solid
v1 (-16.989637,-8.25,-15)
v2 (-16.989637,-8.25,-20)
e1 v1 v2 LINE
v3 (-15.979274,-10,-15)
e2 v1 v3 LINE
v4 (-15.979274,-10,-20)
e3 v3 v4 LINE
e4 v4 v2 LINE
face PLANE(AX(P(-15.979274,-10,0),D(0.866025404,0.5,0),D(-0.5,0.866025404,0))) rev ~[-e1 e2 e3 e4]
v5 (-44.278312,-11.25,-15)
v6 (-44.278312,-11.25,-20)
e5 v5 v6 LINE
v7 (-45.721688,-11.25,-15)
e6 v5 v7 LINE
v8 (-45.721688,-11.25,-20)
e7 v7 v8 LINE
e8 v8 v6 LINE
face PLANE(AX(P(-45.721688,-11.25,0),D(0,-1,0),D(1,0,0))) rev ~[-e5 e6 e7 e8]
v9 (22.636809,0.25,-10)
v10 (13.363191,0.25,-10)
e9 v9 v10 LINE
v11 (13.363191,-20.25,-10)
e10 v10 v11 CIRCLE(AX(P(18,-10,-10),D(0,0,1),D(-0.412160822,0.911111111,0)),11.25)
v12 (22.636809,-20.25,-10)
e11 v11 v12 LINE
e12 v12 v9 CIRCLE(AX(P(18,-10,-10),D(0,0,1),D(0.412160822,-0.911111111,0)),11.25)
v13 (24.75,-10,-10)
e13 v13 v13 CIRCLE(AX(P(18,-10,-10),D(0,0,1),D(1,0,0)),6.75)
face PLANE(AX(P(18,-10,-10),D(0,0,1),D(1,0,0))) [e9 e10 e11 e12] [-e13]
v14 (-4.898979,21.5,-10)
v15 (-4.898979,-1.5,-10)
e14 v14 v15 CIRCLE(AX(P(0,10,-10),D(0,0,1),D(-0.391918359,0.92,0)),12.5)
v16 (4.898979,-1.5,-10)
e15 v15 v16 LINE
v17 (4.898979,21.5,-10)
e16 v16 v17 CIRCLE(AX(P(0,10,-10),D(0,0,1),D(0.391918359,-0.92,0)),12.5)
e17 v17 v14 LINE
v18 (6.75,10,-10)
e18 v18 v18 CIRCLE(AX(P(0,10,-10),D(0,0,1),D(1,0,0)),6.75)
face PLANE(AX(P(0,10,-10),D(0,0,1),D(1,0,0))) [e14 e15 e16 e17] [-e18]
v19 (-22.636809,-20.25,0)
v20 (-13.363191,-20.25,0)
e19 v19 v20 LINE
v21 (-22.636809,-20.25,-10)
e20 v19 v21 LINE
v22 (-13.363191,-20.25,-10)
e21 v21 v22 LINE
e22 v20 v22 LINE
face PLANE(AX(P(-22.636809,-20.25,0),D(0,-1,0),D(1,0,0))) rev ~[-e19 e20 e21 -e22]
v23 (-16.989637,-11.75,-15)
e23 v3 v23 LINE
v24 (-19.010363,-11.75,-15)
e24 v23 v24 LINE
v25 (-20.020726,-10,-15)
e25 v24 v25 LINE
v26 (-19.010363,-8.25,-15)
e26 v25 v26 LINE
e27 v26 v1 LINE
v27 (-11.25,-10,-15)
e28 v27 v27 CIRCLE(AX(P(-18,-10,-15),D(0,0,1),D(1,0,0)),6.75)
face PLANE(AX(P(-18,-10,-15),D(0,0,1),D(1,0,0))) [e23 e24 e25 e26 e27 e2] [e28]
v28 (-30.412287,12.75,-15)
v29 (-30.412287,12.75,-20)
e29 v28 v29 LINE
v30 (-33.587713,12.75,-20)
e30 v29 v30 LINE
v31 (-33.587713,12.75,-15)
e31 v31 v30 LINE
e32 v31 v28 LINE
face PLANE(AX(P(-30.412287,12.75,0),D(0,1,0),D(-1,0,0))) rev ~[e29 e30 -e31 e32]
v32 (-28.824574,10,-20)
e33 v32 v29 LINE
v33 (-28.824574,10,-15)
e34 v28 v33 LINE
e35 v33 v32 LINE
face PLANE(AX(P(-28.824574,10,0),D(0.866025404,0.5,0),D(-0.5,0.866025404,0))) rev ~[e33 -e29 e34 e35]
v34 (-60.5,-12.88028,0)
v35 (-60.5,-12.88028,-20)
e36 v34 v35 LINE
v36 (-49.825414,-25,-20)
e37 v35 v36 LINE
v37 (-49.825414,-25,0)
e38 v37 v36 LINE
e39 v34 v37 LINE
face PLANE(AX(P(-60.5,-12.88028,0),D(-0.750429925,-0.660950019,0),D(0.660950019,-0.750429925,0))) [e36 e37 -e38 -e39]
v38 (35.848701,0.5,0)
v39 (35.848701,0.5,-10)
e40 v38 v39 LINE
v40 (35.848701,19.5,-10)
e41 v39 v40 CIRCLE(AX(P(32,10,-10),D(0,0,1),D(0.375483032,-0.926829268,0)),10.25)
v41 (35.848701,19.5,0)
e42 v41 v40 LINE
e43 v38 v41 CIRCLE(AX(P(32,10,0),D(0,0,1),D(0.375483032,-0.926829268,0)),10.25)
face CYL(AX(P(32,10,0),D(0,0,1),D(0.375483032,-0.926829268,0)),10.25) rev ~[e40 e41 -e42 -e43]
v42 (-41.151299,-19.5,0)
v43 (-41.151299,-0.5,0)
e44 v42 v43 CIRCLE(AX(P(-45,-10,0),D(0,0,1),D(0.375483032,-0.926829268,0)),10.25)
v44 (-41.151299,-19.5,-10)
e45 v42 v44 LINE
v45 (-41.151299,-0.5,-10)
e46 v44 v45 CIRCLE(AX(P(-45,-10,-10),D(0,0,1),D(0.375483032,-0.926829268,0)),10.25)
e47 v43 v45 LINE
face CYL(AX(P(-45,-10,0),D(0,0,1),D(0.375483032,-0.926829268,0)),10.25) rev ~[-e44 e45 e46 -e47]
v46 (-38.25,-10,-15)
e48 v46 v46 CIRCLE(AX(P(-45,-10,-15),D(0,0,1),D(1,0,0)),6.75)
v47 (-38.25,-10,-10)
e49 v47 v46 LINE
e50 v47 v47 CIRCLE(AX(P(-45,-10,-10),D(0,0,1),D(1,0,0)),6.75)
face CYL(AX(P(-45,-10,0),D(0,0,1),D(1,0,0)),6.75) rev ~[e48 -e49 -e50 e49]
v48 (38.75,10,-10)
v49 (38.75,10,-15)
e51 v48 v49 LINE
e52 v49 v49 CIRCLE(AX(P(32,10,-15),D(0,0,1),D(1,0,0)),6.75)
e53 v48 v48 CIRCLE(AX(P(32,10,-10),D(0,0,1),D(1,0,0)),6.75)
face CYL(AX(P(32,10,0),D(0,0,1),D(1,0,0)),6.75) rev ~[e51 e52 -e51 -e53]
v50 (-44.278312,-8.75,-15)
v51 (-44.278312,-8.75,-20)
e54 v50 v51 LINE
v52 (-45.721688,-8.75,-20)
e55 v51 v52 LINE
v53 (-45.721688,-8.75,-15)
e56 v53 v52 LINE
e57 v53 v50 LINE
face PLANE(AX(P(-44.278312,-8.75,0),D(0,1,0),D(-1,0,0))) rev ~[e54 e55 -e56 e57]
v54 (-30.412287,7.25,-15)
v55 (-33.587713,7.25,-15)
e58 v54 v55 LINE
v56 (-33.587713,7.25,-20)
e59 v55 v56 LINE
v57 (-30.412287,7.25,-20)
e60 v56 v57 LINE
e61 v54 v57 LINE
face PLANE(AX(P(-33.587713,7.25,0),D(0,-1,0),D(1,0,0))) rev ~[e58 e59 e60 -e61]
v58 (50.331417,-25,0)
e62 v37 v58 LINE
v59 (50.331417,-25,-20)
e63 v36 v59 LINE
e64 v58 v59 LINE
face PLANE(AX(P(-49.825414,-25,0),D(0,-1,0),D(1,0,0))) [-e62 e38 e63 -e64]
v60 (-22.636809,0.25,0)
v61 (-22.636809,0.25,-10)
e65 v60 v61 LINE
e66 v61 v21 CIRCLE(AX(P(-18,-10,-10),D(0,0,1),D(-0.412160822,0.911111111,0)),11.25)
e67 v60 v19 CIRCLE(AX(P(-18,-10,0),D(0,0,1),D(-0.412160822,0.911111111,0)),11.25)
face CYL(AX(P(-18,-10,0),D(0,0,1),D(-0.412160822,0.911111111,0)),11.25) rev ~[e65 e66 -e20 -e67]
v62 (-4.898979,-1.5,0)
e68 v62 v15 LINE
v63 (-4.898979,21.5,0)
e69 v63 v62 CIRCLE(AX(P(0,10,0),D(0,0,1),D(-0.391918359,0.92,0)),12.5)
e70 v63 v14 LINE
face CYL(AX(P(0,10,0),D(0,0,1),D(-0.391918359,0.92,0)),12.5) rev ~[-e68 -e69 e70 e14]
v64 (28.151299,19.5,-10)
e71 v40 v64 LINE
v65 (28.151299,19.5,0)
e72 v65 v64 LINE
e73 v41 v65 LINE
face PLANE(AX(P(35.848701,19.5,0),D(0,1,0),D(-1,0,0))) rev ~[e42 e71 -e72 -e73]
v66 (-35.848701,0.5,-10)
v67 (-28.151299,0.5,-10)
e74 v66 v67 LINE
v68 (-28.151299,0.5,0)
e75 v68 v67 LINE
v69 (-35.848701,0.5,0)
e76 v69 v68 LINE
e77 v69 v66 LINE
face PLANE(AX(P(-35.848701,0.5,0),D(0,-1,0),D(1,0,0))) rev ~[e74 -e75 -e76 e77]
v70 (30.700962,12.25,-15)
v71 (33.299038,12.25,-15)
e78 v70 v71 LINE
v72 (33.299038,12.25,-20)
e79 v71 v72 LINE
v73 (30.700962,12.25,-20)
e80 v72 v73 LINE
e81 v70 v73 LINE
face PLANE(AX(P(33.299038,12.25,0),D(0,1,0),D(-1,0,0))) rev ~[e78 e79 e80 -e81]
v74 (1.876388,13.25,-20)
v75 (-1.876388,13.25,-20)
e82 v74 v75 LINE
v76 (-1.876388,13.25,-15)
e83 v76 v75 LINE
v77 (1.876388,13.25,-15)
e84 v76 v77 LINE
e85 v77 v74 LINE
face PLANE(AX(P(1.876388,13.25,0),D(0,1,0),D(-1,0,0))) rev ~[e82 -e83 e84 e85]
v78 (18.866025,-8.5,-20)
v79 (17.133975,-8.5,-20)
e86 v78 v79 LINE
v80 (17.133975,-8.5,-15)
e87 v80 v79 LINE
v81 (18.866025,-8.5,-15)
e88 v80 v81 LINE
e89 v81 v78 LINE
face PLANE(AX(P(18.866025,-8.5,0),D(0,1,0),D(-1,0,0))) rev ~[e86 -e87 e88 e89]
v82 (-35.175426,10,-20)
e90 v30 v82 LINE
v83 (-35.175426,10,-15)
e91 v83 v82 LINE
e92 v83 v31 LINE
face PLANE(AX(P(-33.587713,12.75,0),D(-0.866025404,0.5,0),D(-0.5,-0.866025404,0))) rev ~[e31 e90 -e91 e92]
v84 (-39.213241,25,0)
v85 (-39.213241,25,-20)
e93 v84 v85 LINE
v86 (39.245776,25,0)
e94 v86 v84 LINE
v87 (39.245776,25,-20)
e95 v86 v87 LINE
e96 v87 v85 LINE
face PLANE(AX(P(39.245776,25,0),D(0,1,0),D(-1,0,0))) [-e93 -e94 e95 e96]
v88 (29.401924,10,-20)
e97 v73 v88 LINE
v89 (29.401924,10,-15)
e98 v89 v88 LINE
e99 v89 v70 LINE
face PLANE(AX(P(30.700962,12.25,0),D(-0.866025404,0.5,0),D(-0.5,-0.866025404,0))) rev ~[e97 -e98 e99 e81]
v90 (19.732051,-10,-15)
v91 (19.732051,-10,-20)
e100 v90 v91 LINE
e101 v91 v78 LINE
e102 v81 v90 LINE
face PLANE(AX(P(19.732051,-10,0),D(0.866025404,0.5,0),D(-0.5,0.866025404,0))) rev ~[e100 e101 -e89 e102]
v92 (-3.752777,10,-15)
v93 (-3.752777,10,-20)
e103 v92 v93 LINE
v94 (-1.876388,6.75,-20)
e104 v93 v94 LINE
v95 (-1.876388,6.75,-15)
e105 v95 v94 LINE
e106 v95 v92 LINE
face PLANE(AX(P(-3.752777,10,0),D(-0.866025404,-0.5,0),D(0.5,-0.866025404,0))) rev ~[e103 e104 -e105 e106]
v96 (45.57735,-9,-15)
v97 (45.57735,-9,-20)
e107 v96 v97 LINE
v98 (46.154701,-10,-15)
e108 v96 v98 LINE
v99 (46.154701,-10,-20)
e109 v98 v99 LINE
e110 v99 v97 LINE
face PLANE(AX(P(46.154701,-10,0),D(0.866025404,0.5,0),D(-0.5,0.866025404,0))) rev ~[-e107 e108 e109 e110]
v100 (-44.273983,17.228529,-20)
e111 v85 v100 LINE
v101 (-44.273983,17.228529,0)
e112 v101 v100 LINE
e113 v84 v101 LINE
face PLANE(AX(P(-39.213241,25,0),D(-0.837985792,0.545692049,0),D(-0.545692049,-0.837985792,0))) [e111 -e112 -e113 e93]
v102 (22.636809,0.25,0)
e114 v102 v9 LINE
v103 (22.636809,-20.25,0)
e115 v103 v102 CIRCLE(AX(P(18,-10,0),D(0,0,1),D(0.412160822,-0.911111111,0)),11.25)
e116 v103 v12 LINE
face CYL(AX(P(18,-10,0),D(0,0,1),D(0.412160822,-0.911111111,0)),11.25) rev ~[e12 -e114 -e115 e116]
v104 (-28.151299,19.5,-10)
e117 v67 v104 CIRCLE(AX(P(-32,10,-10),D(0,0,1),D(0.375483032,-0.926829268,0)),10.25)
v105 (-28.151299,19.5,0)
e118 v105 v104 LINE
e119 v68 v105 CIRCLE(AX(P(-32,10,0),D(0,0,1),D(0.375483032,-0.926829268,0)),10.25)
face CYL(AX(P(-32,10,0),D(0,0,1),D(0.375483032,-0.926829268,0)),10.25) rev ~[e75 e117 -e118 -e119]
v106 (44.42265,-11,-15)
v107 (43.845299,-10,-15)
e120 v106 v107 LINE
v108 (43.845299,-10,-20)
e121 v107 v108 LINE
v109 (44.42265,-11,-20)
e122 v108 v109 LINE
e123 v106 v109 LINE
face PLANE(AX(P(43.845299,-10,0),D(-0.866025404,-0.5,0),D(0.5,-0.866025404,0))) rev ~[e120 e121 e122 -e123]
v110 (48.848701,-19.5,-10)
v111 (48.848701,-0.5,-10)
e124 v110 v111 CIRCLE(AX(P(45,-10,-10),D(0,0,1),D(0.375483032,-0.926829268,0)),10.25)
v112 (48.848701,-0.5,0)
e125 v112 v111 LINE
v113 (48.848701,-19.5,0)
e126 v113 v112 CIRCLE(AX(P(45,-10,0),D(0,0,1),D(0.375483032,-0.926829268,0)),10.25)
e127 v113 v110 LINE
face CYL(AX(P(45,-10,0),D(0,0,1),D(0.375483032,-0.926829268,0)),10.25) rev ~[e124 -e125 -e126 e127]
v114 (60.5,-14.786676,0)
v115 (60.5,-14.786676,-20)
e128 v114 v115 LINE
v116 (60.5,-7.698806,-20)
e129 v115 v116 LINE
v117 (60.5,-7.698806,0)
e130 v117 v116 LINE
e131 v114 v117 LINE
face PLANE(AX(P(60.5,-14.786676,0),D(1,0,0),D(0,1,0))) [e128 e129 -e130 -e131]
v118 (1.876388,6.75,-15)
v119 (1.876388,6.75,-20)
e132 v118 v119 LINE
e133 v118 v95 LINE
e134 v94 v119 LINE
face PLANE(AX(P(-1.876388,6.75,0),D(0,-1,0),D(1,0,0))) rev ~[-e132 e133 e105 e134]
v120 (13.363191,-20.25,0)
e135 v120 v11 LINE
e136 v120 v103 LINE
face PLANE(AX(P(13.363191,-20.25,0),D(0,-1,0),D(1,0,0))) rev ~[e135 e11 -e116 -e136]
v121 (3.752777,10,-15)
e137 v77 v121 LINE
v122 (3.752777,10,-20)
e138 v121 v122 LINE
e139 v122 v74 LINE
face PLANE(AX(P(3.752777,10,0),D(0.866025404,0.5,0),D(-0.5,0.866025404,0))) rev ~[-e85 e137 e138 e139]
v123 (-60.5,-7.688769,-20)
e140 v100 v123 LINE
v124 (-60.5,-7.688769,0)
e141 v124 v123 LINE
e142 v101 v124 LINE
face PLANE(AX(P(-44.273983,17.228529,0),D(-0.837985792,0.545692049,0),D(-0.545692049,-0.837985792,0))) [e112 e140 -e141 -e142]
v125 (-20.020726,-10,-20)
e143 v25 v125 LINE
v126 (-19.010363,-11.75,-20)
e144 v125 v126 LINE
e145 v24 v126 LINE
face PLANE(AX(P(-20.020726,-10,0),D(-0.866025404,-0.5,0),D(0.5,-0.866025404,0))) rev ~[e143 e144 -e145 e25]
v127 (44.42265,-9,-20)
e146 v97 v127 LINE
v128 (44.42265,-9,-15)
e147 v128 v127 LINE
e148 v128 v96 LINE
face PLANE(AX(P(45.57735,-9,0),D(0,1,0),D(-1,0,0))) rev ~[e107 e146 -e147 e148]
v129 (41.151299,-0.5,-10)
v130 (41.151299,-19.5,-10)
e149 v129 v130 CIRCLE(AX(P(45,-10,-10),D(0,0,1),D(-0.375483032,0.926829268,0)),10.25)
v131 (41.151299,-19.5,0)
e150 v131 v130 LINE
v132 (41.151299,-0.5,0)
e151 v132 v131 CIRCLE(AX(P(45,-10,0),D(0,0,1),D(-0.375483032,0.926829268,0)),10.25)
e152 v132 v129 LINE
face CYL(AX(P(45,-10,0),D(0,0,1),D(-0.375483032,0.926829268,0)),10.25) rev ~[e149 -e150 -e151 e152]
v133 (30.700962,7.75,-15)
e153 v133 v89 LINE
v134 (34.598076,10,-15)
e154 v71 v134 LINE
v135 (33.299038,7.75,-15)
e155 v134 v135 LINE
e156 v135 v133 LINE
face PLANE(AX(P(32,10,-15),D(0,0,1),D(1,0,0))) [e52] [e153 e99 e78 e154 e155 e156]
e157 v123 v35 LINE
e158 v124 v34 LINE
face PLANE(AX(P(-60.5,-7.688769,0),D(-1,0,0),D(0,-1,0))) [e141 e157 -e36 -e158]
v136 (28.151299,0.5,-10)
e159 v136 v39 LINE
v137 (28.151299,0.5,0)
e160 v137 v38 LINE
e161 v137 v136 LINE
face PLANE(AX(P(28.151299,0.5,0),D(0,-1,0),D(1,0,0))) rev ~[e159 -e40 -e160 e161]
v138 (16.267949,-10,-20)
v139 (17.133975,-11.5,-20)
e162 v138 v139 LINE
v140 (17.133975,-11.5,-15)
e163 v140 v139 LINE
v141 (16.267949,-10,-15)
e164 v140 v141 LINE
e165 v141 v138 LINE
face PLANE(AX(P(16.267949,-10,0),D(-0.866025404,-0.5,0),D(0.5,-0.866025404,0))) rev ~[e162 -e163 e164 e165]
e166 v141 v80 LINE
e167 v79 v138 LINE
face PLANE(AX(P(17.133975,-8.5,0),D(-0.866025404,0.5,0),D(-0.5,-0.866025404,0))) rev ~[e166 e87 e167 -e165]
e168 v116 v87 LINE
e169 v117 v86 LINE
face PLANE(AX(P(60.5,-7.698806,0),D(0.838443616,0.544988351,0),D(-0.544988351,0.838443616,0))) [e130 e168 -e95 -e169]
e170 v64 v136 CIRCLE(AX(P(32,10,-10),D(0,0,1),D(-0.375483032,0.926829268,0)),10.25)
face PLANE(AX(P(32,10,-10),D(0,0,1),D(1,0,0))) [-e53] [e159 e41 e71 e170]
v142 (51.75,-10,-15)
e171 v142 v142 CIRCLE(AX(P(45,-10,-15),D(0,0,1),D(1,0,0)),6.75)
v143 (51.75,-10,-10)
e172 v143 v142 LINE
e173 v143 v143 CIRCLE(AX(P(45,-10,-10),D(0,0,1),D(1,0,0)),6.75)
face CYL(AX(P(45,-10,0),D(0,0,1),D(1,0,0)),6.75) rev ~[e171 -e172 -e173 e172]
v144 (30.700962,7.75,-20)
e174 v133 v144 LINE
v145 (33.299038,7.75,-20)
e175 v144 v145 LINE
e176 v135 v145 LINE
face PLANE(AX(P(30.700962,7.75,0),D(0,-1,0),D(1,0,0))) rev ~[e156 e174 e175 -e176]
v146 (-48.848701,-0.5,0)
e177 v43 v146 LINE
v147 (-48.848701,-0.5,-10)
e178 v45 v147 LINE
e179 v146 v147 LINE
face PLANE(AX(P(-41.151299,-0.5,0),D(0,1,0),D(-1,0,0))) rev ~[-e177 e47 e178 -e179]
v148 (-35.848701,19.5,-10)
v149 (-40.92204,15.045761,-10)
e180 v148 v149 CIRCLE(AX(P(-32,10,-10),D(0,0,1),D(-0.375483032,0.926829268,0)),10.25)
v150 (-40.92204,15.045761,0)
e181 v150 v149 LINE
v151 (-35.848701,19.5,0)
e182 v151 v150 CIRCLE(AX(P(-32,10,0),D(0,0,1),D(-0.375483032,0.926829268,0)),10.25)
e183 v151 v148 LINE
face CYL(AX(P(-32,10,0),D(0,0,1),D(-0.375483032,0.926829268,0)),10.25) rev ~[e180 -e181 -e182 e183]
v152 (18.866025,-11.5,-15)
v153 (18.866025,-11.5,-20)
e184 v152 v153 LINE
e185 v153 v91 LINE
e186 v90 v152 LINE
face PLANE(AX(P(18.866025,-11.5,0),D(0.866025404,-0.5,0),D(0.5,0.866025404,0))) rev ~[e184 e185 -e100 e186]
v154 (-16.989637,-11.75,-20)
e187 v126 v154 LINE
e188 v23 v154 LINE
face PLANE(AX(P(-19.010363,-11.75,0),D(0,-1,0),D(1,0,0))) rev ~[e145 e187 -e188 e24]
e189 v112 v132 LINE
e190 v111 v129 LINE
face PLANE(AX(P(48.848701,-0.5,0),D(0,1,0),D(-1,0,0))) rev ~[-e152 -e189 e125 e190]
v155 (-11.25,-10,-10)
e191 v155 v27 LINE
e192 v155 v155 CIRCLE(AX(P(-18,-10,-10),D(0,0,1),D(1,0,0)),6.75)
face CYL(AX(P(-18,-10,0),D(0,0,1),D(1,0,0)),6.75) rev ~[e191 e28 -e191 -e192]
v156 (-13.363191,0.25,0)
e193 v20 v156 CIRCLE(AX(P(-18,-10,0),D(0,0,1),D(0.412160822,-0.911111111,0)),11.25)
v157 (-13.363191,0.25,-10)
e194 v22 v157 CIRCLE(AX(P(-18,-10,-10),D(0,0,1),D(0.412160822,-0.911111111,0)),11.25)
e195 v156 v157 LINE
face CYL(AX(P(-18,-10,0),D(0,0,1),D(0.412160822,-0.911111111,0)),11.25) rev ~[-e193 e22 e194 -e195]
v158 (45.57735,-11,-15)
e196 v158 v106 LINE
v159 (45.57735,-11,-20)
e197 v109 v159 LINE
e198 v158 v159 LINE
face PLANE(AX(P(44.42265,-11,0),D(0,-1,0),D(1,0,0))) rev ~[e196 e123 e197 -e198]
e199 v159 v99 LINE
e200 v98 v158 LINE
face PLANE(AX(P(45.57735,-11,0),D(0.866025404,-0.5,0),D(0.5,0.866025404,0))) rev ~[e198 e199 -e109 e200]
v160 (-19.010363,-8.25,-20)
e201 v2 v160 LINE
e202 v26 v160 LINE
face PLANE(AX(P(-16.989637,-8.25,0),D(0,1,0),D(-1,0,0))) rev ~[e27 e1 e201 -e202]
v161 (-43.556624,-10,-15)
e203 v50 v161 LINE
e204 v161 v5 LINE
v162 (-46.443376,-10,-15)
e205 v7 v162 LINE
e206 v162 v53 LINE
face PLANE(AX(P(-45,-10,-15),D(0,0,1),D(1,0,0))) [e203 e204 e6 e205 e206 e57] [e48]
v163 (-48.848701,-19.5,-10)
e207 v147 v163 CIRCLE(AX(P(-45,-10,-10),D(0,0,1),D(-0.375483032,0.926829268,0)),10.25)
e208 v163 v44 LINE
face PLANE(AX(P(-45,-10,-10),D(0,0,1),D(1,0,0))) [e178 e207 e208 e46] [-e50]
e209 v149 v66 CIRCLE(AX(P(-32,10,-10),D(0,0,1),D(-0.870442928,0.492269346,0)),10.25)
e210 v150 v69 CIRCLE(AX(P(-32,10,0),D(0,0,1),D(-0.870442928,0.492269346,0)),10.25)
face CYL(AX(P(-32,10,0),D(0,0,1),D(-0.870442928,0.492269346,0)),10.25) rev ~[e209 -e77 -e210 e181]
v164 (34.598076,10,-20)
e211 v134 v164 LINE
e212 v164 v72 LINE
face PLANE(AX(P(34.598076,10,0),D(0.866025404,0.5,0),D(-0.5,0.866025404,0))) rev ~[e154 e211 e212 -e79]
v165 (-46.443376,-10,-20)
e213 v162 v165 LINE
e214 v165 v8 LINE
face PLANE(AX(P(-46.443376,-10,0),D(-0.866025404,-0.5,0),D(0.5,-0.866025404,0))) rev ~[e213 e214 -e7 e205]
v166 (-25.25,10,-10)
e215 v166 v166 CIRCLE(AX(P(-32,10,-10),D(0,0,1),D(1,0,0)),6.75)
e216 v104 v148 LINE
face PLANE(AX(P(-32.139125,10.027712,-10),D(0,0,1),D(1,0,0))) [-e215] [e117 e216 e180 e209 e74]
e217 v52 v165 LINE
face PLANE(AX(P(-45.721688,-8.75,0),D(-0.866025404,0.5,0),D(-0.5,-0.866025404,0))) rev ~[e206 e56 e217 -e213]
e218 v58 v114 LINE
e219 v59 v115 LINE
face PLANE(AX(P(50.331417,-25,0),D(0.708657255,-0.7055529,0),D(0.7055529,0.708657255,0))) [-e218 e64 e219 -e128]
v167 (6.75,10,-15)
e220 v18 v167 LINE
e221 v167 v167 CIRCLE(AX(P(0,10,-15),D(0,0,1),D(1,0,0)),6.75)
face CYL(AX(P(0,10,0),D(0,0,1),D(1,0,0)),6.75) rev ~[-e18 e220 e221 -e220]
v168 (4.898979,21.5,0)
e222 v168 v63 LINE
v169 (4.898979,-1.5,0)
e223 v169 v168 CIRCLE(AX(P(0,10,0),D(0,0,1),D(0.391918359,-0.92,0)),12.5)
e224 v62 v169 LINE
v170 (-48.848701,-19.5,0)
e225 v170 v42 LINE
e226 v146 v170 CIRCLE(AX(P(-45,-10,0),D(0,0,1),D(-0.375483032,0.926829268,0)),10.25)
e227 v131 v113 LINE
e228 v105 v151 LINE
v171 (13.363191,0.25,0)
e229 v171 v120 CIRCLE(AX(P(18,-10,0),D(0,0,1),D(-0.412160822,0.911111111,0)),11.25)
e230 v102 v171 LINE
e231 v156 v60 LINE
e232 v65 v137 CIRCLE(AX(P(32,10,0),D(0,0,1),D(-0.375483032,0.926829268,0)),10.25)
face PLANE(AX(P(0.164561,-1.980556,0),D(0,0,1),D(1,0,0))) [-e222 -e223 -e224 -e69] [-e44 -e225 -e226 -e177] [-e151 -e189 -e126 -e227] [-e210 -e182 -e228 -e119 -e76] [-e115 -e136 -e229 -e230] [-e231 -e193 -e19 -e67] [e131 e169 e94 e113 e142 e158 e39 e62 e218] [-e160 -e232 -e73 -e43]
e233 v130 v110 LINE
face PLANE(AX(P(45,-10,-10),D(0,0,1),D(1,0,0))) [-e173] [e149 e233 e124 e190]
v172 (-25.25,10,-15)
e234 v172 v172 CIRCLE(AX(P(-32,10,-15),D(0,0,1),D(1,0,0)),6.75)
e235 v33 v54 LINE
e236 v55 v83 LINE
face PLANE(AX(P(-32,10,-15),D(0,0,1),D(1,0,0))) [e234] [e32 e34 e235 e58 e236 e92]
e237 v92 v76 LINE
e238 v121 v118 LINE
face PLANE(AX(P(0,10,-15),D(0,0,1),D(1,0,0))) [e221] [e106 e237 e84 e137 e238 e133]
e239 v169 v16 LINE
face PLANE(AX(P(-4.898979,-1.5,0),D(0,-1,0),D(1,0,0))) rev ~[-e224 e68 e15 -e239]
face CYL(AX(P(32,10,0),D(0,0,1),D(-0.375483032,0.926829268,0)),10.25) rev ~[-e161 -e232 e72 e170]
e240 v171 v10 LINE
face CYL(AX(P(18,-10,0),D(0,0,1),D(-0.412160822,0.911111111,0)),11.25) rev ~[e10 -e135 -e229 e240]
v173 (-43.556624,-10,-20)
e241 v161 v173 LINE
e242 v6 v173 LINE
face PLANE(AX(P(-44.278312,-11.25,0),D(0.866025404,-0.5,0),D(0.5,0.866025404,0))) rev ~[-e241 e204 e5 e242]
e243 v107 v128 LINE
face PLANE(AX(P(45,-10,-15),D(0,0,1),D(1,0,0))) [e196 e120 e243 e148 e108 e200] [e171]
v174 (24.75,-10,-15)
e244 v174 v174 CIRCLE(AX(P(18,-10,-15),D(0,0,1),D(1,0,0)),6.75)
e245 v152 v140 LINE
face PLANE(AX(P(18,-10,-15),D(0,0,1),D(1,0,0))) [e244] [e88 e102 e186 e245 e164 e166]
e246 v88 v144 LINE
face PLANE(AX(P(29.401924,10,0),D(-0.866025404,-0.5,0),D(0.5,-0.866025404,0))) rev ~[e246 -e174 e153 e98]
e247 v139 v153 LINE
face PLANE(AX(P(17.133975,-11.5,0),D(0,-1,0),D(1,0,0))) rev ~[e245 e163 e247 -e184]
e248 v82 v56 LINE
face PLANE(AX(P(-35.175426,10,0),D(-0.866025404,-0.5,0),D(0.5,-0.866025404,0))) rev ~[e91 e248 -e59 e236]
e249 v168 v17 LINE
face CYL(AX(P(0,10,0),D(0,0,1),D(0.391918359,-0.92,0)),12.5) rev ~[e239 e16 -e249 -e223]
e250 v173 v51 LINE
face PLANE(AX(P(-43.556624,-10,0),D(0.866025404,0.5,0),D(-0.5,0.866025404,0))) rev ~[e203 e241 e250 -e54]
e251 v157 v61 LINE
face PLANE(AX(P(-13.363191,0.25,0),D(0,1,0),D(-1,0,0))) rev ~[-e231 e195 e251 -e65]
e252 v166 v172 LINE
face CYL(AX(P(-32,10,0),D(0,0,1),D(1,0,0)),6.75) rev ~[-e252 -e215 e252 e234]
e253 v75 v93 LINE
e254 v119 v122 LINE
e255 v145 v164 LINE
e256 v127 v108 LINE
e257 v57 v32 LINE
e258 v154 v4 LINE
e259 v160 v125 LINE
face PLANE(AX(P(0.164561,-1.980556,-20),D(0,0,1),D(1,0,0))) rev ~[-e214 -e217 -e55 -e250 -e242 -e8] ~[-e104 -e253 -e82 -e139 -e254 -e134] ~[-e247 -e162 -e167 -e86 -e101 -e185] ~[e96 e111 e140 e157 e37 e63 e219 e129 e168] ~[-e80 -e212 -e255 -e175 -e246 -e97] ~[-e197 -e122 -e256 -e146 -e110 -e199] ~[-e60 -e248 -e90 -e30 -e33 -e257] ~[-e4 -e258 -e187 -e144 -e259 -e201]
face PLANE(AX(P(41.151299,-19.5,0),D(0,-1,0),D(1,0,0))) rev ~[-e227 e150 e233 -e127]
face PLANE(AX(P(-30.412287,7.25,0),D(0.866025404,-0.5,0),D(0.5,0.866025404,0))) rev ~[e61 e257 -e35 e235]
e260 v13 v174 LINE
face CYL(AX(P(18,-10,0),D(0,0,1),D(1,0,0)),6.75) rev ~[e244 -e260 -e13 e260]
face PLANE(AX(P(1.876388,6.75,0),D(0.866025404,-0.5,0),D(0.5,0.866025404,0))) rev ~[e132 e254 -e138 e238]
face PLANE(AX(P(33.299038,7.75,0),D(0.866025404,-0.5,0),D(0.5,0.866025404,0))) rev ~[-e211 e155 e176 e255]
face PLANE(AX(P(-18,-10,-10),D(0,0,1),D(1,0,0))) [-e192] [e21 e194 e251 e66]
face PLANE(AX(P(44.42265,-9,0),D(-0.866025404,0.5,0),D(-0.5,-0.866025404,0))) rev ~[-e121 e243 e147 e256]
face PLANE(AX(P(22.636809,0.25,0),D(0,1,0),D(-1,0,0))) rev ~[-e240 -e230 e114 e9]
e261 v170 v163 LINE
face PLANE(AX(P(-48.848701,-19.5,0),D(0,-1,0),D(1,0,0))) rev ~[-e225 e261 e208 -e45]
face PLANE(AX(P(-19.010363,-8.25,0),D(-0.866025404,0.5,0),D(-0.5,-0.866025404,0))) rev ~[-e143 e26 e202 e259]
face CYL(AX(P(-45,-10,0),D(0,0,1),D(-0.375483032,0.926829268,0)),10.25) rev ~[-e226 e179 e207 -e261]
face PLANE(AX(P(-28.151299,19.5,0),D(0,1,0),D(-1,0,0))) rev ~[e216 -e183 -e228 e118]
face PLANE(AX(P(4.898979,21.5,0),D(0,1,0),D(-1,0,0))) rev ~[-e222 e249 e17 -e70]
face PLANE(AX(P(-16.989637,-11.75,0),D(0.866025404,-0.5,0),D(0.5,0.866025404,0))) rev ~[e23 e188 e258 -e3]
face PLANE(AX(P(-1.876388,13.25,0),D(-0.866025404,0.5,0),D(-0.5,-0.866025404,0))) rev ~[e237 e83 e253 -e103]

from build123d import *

# Parameters (mm, degrees)
F0_R     = 6.75
F1_DEPTH = 20
F2_DEPTH = 25
F3_DEPTH = 15
F4_DEPTH = 10


with BuildPart() as f1:
    # F0 (on Top) → F1 (new body)
    with BuildSketch(Plane.XY):
        Polygon((39.2457761297, 25), (-39.2132411266, 25), (-44.2739831788, 17.2285289957), (-60.5, -7.6887692861), (-60.5, -12.8802804498), (-49.8254138643, -25), (50.3314169129, -25), (60.5, -14.7866762627), (60.5, -7.6988059543), align=None)
        with BuildLine():
            ThreePointArc((-48.8487010796, -19.5), (-55.25, -10), (-48.8487010796, -0.5))
            Line((-48.8487010796, -0.5), (-41.1512989204, -0.5))
            ThreePointArc((-41.1512989204, -0.5), (-34.75, -10), (-41.1512989204, -19.5))
            Line((-41.1512989204, -19.5), (-48.8487010796, -19.5))
        make_face(mode=Mode.SUBTRACT)
        with BuildLine():
            ThreePointArc((-22.6368092477, -20.25), (-29.25, -10), (-22.6368092477, 0.25))
            Line((-22.6368092477, 0.25), (-13.3631907523, 0.25))
            ThreePointArc((-13.3631907523, 0.25), (-6.75, -10), (-13.3631907523, -20.25))
            Line((-13.3631907523, -20.25), (-22.6368092477, -20.25))
        make_face(mode=Mode.SUBTRACT)
        with BuildLine():
            ThreePointArc((13.3631907523, -20.25), (6.75, -10), (13.3631907523, 0.25))
            Line((13.3631907523, 0.25), (22.6368092477, 0.25))
            ThreePointArc((22.6368092477, 0.25), (29.25, -10), (22.6368092477, -20.25))
            Line((22.6368092477, -20.25), (13.3631907523, -20.25))
        make_face(mode=Mode.SUBTRACT)
        with BuildLine():
            ThreePointArc((41.1512989204, -19.5), (34.75, -10), (41.1512989204, -0.5))
            Line((41.1512989204, -0.5), (48.8487010796, -0.5))
            ThreePointArc((48.8487010796, -0.5), (55.25, -10), (48.8487010796, -19.5))
            Line((48.8487010796, -19.5), (41.1512989204, -19.5))
        make_face(mode=Mode.SUBTRACT)
        with BuildLine():
            ThreePointArc((-35.8487010796, 0.5), (-41.678209871, 6.6243883973), (-40.9220400109, 15.0457607994))
            ThreePointArc((-40.9220400109, 15.0457607994), (-38.7626192199, 17.7025632932), (-35.8487010796, 19.5))
            Line((-35.8487010796, 19.5), (-28.1512989204, 19.5))
            ThreePointArc((-28.1512989204, 19.5), (-21.75, 10), (-28.1512989204, 0.5))
            Line((-28.1512989204, 0.5), (-35.8487010796, 0.5))
        make_face(mode=Mode.SUBTRACT)
        with BuildLine():
            ThreePointArc((-4.8989794856, -1.5), (-12.5, 10), (-4.8989794856, 21.5))
            Line((-4.8989794856, 21.5), (4.8989794856, 21.5))
            ThreePointArc((4.8989794856, 21.5), (12.5, 10), (4.8989794856, -1.5))
            Line((4.8989794856, -1.5), (-4.8989794856, -1.5))
        make_face(mode=Mode.SUBTRACT)
        with BuildLine():
            ThreePointArc((28.1512989204, 0.5), (21.75, 10), (28.1512989204, 19.5))
            Line((28.1512989204, 19.5), (35.8487010796, 19.5))
            ThreePointArc((35.8487010796, 19.5), (42.25, 10), (35.8487010796, 0.5))
            Line((35.8487010796, 0.5), (28.1512989204, 0.5))
        make_face(mode=Mode.SUBTRACT)
        with BuildLine():
            Line((4.8989794856, 21.5), (-4.8989794856, 21.5))
            ThreePointArc((-4.8989794856, 21.5), (-12.5, 10), (-4.8989794856, -1.5))
            Line((-4.8989794856, -1.5), (4.8989794856, -1.5))
            ThreePointArc((4.8989794856, -1.5), (12.5, 10), (4.8989794856, 21.5))
        make_face()
        with Locations((0, 10)):
            Circle(F0_R, mode=Mode.SUBTRACT)
        with BuildLine():
            Line((-13.3631907523, 0.25), (-22.6368092477, 0.25))
            ThreePointArc((-22.6368092477, 0.25), (-29.25, -10), (-22.6368092477, -20.25))
            Line((-22.6368092477, -20.25), (-13.3631907523, -20.25))
            ThreePointArc((-13.3631907523, -20.25), (-6.75, -10), (-13.3631907523, 0.25))
        make_face()
        with Locations((-18, -10)):
            Circle(F0_R, mode=Mode.SUBTRACT)
        with BuildLine():
            Line((22.6368092477, 0.25), (13.3631907523, 0.25))
            ThreePointArc((13.3631907523, 0.25), (6.75, -10), (13.3631907523, -20.25))
            Line((13.3631907523, -20.25), (22.6368092477, -20.25))
            ThreePointArc((22.6368092477, -20.25), (29.25, -10), (22.6368092477, 0.25))
        make_face()
        with Locations((18, -10)):
            Circle(F0_R, mode=Mode.SUBTRACT)
        with BuildLine():
            Line((-41.1512989204, -0.5), (-48.8487010796, -0.5))
            ThreePointArc((-48.8487010796, -0.5), (-55.25, -10), (-48.8487010796, -19.5))
            Line((-48.8487010796, -19.5), (-41.1512989204, -19.5))
            ThreePointArc((-41.1512989204, -19.5), (-34.75, -10), (-41.1512989204, -0.5))
        make_face()
        with Locations((-45, -10)):
            Circle(F0_R, mode=Mode.SUBTRACT)
        with BuildLine():
            ThreePointArc((-35.8487010796, 19.5), (-38.7626192199, 17.7025632932), (-40.9220400109, 15.0457607994))
            ThreePointArc((-40.9220400109, 15.0457607994), (-41.678209871, 6.6243883973), (-35.8487010796, 0.5))
            Line((-35.8487010796, 0.5), (-28.1512989204, 0.5))
            ThreePointArc((-28.1512989204, 0.5), (-21.75, 10), (-28.1512989204, 19.5))
            Line((-28.1512989204, 19.5), (-35.8487010796, 19.5))
        make_face()
        with Locations((-32, 10)):
            Circle(F0_R, mode=Mode.SUBTRACT)
        with BuildLine():
            Line((35.8487010796, 19.5), (28.1512989204, 19.5))
            ThreePointArc((28.1512989204, 19.5), (21.75, 10), (28.1512989204, 0.5))
            Line((28.1512989204, 0.5), (35.8487010796, 0.5))
            ThreePointArc((35.8487010796, 0.5), (42.25, 10), (35.8487010796, 19.5))
        make_face()
        with Locations((32, 10)):
            Circle(F0_R, mode=Mode.SUBTRACT)
        with BuildLine():
            Line((48.8487010796, -0.5), (41.1512989204, -0.5))
            ThreePointArc((41.1512989204, -0.5), (34.75, -10), (41.1512989204, -19.5))
            Line((41.1512989204, -19.5), (48.8487010796, -19.5))
            ThreePointArc((48.8487010796, -19.5), (55.25, -10), (48.8487010796, -0.5))
        make_face()
        with Locations((45, -10)):
            Circle(F0_R, mode=Mode.SUBTRACT)
        with Locations((-45, -10)):
            Circle(F0_R)
        Polygon((-44.2783121635, -8.75), (-43.556624327, -10), (-44.2783121635, -11.25), (-45.7216878365, -11.25), (-46.443375673, -10), (-45.7216878365, -8.75), align=None, mode=Mode.SUBTRACT)
        with Locations((-32, 10)):
            Circle(F0_R)
        Polygon((-33.5877132403, 12.75), (-30.4122867597, 12.75), (-28.8245735195, 10), (-30.4122867597, 7.25), (-33.5877132403, 7.25), (-35.1754264805, 10), align=None, mode=Mode.SUBTRACT)
        with Locations((-18, -10)):
            Circle(F0_R)
        Polygon((-15.9792740578, -10), (-16.9896370289, -11.75), (-19.0103629711, -11.75), (-20.0207259422, -10), (-19.0103629711, -8.25), (-16.9896370289, -8.25), align=None, mode=Mode.SUBTRACT)
        with Locations((0, 10)):
            Circle(F0_R)
        Polygon((3.7527767497, 10), (1.8763883749, 6.75), (-1.8763883749, 6.75), (-3.7527767497, 10), (-1.8763883749, 13.25), (1.8763883749, 13.25), align=None, mode=Mode.SUBTRACT)
        with Locations((18, -10)):
            Circle(F0_R)
        Polygon((19.7320508076, -10), (18.8660254038, -11.5), (17.1339745962, -11.5), (16.2679491924, -10), (17.1339745962, -8.5), (18.8660254038, -8.5), align=None, mode=Mode.SUBTRACT)
        with Locations((32, 10)):
            Circle(F0_R)
        Polygon((33.2990381057, 12.25), (34.5980762114, 10), (33.2990381057, 7.75), (30.7009618943, 7.75), (29.4019237886, 10), (30.7009618943, 12.25), align=None, mode=Mode.SUBTRACT)
        with Locations((45, -10)):
            Circle(F0_R)
        Polygon((46.1547005384, -10), (45.5773502692, -11), (44.4226497308, -11), (43.8452994616, -10), (44.4226497308, -9), (45.5773502692, -9), align=None, mode=Mode.SUBTRACT)
        Polygon((-1.8763883749, 6.75), (1.8763883749, 6.75), (3.7527767497, 10), (1.8763883749, 13.25), (-1.8763883749, 13.25), (-3.7527767497, 10), align=None)
        Polygon((-28.8245735195, 10), (-30.4122867597, 12.75), (-33.5877132403, 12.75), (-35.1754264805, 10), (-33.5877132403, 7.25), (-30.4122867597, 7.25), align=None)
        Polygon((33.2990381057, 7.75), (34.5980762114, 10), (33.2990381057, 12.25), (30.7009618943, 12.25), (29.4019237886, 10), (30.7009618943, 7.75), align=None)
        Polygon((-19.0103629711, -11.75), (-16.9896370289, -11.75), (-15.9792740578, -10), (-16.9896370289, -8.25), (-19.0103629711, -8.25), (-20.0207259422, -10), align=None)
        Polygon((17.1339745962, -11.5), (18.8660254038, -11.5), (19.7320508076, -10), (18.8660254038, -8.5), (17.1339745962, -8.5), (16.2679491924, -10), align=None)
        Polygon((-44.2783121635, -11.25), (-43.556624327, -10), (-44.2783121635, -8.75), (-45.7216878365, -8.75), (-46.443375673, -10), (-45.7216878365, -11.25), align=None)
        Polygon((44.4226497308, -11), (45.5773502692, -11), (46.1547005384, -10), (45.5773502692, -9), (44.4226497308, -9), (43.8452994616, -10), align=None)
    extrude(amount=-F1_DEPTH)

    # F0 (on Top) → F2 (cut)
    with BuildSketch(Plane.XY):
        Polygon((-28.8245735195, 10), (-30.4122867597, 12.75), (-33.5877132403, 12.75), (-35.1754264805, 10), (-33.5877132403, 7.25), (-30.4122867597, 7.25), align=None)
        Polygon((-1.8763883749, 6.75), (1.8763883749, 6.75), (3.7527767497, 10), (1.8763883749, 13.25), (-1.8763883749, 13.25), (-3.7527767497, 10), align=None)
        Polygon((33.2990381057, 7.75), (34.5980762114, 10), (33.2990381057, 12.25), (30.7009618943, 12.25), (29.4019237886, 10), (30.7009618943, 7.75), align=None)
        Polygon((-44.2783121635, -11.25), (-43.556624327, -10), (-44.2783121635, -8.75), (-45.7216878365, -8.75), (-46.443375673, -10), (-45.7216878365, -11.25), align=None)
        Polygon((-19.0103629711, -11.75), (-16.9896370289, -11.75), (-15.9792740578, -10), (-16.9896370289, -8.25), (-19.0103629711, -8.25), (-20.0207259422, -10), align=None)
        Polygon((17.1339745962, -11.5), (18.8660254038, -11.5), (19.7320508076, -10), (18.8660254038, -8.5), (17.1339745962, -8.5), (16.2679491924, -10), align=None)
        Polygon((44.4226497308, -11), (45.5773502692, -11), (46.1547005384, -10), (45.5773502692, -9), (44.4226497308, -9), (43.8452994616, -10), align=None)
    extrude(amount=-F2_DEPTH, mode=Mode.SUBTRACT)

    # F0 (on Top) → F3 (cut)
    with BuildSketch(Plane.XY):
        with Locations((-32, 10)):
            Circle(F0_R)
        Polygon((-33.5877132403, 12.75), (-30.4122867597, 12.75), (-28.8245735195, 10), (-30.4122867597, 7.25), (-33.5877132403, 7.25), (-35.1754264805, 10), align=None, mode=Mode.SUBTRACT)
        with Locations((0, 10)):
            Circle(F0_R)
        Polygon((3.7527767497, 10), (1.8763883749, 6.75), (-1.8763883749, 6.75), (-3.7527767497, 10), (-1.8763883749, 13.25), (1.8763883749, 13.25), align=None, mode=Mode.SUBTRACT)
        with Locations((32, 10)):
            Circle(F0_R)
        Polygon((33.2990381057, 12.25), (34.5980762114, 10), (33.2990381057, 7.75), (30.7009618943, 7.75), (29.4019237886, 10), (30.7009618943, 12.25), align=None, mode=Mode.SUBTRACT)
        with Locations((45, -10)):
            Circle(F0_R)
        Polygon((46.1547005384, -10), (45.5773502692, -11), (44.4226497308, -11), (43.8452994616, -10), (44.4226497308, -9), (45.5773502692, -9), align=None, mode=Mode.SUBTRACT)
        with Locations((18, -10)):
            Circle(F0_R)
        Polygon((19.7320508076, -10), (18.8660254038, -11.5), (17.1339745962, -11.5), (16.2679491924, -10), (17.1339745962, -8.5), (18.8660254038, -8.5), align=None, mode=Mode.SUBTRACT)
        with Locations((-18, -10)):
            Circle(F0_R)
        Polygon((-15.9792740578, -10), (-16.9896370289, -11.75), (-19.0103629711, -11.75), (-20.0207259422, -10), (-19.0103629711, -8.25), (-16.9896370289, -8.25), align=None, mode=Mode.SUBTRACT)
        with Locations((-45, -10)):
            Circle(F0_R)
        Polygon((-44.2783121635, -8.75), (-43.556624327, -10), (-44.2783121635, -11.25), (-45.7216878365, -11.25), (-46.443375673, -10), (-45.7216878365, -8.75), align=None, mode=Mode.SUBTRACT)
    extrude(amount=-F3_DEPTH, mode=Mode.SUBTRACT)

    # F0 (on Top) → F4 (cut)
    with BuildSketch(Plane.XY):
        with BuildLine():
            Line((-41.1512989204, -0.5), (-48.8487010796, -0.5))
            ThreePointArc((-48.8487010796, -0.5), (-55.25, -10), (-48.8487010796, -19.5))
            Line((-48.8487010796, -19.5), (-41.1512989204, -19.5))
            ThreePointArc((-41.1512989204, -19.5), (-34.75, -10), (-41.1512989204, -0.5))
        make_face()
        with Locations((-45, -10)):
            Circle(F0_R, mode=Mode.SUBTRACT)
        with BuildLine():
            ThreePointArc((-35.8487010796, 19.5), (-38.7626192199, 17.7025632932), (-40.9220400109, 15.0457607994))
            ThreePointArc((-40.9220400109, 15.0457607994), (-41.678209871, 6.6243883973), (-35.8487010796, 0.5))
            Line((-35.8487010796, 0.5), (-28.1512989204, 0.5))
            ThreePointArc((-28.1512989204, 0.5), (-21.75, 10), (-28.1512989204, 19.5))
            Line((-28.1512989204, 19.5), (-35.8487010796, 19.5))
        make_face()
        with Locations((-32, 10)):
            Circle(F0_R, mode=Mode.SUBTRACT)
        with BuildLine():
            Line((4.8989794856, 21.5), (-4.8989794856, 21.5))
            ThreePointArc((-4.8989794856, 21.5), (-12.5, 10), (-4.8989794856, -1.5))
            Line((-4.8989794856, -1.5), (4.8989794856, -1.5))
            ThreePointArc((4.8989794856, -1.5), (12.5, 10), (4.8989794856, 21.5))
        make_face()
        with Locations((0, 10)):
            Circle(F0_R, mode=Mode.SUBTRACT)
        with BuildLine():
            Line((35.8487010796, 19.5), (28.1512989204, 19.5))
            ThreePointArc((28.1512989204, 19.5), (21.75, 10), (28.1512989204, 0.5))
            Line((28.1512989204, 0.5), (35.8487010796, 0.5))
            ThreePointArc((35.8487010796, 0.5), (42.25, 10), (35.8487010796, 19.5))
        make_face()
        with Locations((32, 10)):
            Circle(F0_R, mode=Mode.SUBTRACT)
        with BuildLine():
            Line((48.8487010796, -0.5), (41.1512989204, -0.5))
            ThreePointArc((41.1512989204, -0.5), (34.75, -10), (41.1512989204, -19.5))
            Line((41.1512989204, -19.5), (48.8487010796, -19.5))
            ThreePointArc((48.8487010796, -19.5), (55.25, -10), (48.8487010796, -0.5))
        make_face()
        with Locations((45, -10)):
            Circle(F0_R, mode=Mode.SUBTRACT)
        with BuildLine():
            Line((22.6368092477, 0.25), (13.3631907523, 0.25))
            ThreePointArc((13.3631907523, 0.25), (6.75, -10), (13.3631907523, -20.25))
            Line((13.3631907523, -20.25), (22.6368092477, -20.25))
            ThreePointArc((22.6368092477, -20.25), (29.25, -10), (22.6368092477, 0.25))
        make_face()
        with Locations((18, -10)):
            Circle(F0_R, mode=Mode.SUBTRACT)
        with BuildLine():
            Line((-13.3631907523, 0.25), (-22.6368092477, 0.25))
            ThreePointArc((-22.6368092477, 0.25), (-29.25, -10), (-22.6368092477, -20.25))
            Line((-22.6368092477, -20.25), (-13.3631907523, -20.25))
            ThreePointArc((-13.3631907523, -20.25), (-6.75, -10), (-13.3631907523, 0.25))
        make_face()
        with Locations((-18, -10)):
            Circle(F0_R, mode=Mode.SUBTRACT)
    extrude(amount=-F4_DEPTH, mode=Mode.SUBTRACT)


solid = f1.part
